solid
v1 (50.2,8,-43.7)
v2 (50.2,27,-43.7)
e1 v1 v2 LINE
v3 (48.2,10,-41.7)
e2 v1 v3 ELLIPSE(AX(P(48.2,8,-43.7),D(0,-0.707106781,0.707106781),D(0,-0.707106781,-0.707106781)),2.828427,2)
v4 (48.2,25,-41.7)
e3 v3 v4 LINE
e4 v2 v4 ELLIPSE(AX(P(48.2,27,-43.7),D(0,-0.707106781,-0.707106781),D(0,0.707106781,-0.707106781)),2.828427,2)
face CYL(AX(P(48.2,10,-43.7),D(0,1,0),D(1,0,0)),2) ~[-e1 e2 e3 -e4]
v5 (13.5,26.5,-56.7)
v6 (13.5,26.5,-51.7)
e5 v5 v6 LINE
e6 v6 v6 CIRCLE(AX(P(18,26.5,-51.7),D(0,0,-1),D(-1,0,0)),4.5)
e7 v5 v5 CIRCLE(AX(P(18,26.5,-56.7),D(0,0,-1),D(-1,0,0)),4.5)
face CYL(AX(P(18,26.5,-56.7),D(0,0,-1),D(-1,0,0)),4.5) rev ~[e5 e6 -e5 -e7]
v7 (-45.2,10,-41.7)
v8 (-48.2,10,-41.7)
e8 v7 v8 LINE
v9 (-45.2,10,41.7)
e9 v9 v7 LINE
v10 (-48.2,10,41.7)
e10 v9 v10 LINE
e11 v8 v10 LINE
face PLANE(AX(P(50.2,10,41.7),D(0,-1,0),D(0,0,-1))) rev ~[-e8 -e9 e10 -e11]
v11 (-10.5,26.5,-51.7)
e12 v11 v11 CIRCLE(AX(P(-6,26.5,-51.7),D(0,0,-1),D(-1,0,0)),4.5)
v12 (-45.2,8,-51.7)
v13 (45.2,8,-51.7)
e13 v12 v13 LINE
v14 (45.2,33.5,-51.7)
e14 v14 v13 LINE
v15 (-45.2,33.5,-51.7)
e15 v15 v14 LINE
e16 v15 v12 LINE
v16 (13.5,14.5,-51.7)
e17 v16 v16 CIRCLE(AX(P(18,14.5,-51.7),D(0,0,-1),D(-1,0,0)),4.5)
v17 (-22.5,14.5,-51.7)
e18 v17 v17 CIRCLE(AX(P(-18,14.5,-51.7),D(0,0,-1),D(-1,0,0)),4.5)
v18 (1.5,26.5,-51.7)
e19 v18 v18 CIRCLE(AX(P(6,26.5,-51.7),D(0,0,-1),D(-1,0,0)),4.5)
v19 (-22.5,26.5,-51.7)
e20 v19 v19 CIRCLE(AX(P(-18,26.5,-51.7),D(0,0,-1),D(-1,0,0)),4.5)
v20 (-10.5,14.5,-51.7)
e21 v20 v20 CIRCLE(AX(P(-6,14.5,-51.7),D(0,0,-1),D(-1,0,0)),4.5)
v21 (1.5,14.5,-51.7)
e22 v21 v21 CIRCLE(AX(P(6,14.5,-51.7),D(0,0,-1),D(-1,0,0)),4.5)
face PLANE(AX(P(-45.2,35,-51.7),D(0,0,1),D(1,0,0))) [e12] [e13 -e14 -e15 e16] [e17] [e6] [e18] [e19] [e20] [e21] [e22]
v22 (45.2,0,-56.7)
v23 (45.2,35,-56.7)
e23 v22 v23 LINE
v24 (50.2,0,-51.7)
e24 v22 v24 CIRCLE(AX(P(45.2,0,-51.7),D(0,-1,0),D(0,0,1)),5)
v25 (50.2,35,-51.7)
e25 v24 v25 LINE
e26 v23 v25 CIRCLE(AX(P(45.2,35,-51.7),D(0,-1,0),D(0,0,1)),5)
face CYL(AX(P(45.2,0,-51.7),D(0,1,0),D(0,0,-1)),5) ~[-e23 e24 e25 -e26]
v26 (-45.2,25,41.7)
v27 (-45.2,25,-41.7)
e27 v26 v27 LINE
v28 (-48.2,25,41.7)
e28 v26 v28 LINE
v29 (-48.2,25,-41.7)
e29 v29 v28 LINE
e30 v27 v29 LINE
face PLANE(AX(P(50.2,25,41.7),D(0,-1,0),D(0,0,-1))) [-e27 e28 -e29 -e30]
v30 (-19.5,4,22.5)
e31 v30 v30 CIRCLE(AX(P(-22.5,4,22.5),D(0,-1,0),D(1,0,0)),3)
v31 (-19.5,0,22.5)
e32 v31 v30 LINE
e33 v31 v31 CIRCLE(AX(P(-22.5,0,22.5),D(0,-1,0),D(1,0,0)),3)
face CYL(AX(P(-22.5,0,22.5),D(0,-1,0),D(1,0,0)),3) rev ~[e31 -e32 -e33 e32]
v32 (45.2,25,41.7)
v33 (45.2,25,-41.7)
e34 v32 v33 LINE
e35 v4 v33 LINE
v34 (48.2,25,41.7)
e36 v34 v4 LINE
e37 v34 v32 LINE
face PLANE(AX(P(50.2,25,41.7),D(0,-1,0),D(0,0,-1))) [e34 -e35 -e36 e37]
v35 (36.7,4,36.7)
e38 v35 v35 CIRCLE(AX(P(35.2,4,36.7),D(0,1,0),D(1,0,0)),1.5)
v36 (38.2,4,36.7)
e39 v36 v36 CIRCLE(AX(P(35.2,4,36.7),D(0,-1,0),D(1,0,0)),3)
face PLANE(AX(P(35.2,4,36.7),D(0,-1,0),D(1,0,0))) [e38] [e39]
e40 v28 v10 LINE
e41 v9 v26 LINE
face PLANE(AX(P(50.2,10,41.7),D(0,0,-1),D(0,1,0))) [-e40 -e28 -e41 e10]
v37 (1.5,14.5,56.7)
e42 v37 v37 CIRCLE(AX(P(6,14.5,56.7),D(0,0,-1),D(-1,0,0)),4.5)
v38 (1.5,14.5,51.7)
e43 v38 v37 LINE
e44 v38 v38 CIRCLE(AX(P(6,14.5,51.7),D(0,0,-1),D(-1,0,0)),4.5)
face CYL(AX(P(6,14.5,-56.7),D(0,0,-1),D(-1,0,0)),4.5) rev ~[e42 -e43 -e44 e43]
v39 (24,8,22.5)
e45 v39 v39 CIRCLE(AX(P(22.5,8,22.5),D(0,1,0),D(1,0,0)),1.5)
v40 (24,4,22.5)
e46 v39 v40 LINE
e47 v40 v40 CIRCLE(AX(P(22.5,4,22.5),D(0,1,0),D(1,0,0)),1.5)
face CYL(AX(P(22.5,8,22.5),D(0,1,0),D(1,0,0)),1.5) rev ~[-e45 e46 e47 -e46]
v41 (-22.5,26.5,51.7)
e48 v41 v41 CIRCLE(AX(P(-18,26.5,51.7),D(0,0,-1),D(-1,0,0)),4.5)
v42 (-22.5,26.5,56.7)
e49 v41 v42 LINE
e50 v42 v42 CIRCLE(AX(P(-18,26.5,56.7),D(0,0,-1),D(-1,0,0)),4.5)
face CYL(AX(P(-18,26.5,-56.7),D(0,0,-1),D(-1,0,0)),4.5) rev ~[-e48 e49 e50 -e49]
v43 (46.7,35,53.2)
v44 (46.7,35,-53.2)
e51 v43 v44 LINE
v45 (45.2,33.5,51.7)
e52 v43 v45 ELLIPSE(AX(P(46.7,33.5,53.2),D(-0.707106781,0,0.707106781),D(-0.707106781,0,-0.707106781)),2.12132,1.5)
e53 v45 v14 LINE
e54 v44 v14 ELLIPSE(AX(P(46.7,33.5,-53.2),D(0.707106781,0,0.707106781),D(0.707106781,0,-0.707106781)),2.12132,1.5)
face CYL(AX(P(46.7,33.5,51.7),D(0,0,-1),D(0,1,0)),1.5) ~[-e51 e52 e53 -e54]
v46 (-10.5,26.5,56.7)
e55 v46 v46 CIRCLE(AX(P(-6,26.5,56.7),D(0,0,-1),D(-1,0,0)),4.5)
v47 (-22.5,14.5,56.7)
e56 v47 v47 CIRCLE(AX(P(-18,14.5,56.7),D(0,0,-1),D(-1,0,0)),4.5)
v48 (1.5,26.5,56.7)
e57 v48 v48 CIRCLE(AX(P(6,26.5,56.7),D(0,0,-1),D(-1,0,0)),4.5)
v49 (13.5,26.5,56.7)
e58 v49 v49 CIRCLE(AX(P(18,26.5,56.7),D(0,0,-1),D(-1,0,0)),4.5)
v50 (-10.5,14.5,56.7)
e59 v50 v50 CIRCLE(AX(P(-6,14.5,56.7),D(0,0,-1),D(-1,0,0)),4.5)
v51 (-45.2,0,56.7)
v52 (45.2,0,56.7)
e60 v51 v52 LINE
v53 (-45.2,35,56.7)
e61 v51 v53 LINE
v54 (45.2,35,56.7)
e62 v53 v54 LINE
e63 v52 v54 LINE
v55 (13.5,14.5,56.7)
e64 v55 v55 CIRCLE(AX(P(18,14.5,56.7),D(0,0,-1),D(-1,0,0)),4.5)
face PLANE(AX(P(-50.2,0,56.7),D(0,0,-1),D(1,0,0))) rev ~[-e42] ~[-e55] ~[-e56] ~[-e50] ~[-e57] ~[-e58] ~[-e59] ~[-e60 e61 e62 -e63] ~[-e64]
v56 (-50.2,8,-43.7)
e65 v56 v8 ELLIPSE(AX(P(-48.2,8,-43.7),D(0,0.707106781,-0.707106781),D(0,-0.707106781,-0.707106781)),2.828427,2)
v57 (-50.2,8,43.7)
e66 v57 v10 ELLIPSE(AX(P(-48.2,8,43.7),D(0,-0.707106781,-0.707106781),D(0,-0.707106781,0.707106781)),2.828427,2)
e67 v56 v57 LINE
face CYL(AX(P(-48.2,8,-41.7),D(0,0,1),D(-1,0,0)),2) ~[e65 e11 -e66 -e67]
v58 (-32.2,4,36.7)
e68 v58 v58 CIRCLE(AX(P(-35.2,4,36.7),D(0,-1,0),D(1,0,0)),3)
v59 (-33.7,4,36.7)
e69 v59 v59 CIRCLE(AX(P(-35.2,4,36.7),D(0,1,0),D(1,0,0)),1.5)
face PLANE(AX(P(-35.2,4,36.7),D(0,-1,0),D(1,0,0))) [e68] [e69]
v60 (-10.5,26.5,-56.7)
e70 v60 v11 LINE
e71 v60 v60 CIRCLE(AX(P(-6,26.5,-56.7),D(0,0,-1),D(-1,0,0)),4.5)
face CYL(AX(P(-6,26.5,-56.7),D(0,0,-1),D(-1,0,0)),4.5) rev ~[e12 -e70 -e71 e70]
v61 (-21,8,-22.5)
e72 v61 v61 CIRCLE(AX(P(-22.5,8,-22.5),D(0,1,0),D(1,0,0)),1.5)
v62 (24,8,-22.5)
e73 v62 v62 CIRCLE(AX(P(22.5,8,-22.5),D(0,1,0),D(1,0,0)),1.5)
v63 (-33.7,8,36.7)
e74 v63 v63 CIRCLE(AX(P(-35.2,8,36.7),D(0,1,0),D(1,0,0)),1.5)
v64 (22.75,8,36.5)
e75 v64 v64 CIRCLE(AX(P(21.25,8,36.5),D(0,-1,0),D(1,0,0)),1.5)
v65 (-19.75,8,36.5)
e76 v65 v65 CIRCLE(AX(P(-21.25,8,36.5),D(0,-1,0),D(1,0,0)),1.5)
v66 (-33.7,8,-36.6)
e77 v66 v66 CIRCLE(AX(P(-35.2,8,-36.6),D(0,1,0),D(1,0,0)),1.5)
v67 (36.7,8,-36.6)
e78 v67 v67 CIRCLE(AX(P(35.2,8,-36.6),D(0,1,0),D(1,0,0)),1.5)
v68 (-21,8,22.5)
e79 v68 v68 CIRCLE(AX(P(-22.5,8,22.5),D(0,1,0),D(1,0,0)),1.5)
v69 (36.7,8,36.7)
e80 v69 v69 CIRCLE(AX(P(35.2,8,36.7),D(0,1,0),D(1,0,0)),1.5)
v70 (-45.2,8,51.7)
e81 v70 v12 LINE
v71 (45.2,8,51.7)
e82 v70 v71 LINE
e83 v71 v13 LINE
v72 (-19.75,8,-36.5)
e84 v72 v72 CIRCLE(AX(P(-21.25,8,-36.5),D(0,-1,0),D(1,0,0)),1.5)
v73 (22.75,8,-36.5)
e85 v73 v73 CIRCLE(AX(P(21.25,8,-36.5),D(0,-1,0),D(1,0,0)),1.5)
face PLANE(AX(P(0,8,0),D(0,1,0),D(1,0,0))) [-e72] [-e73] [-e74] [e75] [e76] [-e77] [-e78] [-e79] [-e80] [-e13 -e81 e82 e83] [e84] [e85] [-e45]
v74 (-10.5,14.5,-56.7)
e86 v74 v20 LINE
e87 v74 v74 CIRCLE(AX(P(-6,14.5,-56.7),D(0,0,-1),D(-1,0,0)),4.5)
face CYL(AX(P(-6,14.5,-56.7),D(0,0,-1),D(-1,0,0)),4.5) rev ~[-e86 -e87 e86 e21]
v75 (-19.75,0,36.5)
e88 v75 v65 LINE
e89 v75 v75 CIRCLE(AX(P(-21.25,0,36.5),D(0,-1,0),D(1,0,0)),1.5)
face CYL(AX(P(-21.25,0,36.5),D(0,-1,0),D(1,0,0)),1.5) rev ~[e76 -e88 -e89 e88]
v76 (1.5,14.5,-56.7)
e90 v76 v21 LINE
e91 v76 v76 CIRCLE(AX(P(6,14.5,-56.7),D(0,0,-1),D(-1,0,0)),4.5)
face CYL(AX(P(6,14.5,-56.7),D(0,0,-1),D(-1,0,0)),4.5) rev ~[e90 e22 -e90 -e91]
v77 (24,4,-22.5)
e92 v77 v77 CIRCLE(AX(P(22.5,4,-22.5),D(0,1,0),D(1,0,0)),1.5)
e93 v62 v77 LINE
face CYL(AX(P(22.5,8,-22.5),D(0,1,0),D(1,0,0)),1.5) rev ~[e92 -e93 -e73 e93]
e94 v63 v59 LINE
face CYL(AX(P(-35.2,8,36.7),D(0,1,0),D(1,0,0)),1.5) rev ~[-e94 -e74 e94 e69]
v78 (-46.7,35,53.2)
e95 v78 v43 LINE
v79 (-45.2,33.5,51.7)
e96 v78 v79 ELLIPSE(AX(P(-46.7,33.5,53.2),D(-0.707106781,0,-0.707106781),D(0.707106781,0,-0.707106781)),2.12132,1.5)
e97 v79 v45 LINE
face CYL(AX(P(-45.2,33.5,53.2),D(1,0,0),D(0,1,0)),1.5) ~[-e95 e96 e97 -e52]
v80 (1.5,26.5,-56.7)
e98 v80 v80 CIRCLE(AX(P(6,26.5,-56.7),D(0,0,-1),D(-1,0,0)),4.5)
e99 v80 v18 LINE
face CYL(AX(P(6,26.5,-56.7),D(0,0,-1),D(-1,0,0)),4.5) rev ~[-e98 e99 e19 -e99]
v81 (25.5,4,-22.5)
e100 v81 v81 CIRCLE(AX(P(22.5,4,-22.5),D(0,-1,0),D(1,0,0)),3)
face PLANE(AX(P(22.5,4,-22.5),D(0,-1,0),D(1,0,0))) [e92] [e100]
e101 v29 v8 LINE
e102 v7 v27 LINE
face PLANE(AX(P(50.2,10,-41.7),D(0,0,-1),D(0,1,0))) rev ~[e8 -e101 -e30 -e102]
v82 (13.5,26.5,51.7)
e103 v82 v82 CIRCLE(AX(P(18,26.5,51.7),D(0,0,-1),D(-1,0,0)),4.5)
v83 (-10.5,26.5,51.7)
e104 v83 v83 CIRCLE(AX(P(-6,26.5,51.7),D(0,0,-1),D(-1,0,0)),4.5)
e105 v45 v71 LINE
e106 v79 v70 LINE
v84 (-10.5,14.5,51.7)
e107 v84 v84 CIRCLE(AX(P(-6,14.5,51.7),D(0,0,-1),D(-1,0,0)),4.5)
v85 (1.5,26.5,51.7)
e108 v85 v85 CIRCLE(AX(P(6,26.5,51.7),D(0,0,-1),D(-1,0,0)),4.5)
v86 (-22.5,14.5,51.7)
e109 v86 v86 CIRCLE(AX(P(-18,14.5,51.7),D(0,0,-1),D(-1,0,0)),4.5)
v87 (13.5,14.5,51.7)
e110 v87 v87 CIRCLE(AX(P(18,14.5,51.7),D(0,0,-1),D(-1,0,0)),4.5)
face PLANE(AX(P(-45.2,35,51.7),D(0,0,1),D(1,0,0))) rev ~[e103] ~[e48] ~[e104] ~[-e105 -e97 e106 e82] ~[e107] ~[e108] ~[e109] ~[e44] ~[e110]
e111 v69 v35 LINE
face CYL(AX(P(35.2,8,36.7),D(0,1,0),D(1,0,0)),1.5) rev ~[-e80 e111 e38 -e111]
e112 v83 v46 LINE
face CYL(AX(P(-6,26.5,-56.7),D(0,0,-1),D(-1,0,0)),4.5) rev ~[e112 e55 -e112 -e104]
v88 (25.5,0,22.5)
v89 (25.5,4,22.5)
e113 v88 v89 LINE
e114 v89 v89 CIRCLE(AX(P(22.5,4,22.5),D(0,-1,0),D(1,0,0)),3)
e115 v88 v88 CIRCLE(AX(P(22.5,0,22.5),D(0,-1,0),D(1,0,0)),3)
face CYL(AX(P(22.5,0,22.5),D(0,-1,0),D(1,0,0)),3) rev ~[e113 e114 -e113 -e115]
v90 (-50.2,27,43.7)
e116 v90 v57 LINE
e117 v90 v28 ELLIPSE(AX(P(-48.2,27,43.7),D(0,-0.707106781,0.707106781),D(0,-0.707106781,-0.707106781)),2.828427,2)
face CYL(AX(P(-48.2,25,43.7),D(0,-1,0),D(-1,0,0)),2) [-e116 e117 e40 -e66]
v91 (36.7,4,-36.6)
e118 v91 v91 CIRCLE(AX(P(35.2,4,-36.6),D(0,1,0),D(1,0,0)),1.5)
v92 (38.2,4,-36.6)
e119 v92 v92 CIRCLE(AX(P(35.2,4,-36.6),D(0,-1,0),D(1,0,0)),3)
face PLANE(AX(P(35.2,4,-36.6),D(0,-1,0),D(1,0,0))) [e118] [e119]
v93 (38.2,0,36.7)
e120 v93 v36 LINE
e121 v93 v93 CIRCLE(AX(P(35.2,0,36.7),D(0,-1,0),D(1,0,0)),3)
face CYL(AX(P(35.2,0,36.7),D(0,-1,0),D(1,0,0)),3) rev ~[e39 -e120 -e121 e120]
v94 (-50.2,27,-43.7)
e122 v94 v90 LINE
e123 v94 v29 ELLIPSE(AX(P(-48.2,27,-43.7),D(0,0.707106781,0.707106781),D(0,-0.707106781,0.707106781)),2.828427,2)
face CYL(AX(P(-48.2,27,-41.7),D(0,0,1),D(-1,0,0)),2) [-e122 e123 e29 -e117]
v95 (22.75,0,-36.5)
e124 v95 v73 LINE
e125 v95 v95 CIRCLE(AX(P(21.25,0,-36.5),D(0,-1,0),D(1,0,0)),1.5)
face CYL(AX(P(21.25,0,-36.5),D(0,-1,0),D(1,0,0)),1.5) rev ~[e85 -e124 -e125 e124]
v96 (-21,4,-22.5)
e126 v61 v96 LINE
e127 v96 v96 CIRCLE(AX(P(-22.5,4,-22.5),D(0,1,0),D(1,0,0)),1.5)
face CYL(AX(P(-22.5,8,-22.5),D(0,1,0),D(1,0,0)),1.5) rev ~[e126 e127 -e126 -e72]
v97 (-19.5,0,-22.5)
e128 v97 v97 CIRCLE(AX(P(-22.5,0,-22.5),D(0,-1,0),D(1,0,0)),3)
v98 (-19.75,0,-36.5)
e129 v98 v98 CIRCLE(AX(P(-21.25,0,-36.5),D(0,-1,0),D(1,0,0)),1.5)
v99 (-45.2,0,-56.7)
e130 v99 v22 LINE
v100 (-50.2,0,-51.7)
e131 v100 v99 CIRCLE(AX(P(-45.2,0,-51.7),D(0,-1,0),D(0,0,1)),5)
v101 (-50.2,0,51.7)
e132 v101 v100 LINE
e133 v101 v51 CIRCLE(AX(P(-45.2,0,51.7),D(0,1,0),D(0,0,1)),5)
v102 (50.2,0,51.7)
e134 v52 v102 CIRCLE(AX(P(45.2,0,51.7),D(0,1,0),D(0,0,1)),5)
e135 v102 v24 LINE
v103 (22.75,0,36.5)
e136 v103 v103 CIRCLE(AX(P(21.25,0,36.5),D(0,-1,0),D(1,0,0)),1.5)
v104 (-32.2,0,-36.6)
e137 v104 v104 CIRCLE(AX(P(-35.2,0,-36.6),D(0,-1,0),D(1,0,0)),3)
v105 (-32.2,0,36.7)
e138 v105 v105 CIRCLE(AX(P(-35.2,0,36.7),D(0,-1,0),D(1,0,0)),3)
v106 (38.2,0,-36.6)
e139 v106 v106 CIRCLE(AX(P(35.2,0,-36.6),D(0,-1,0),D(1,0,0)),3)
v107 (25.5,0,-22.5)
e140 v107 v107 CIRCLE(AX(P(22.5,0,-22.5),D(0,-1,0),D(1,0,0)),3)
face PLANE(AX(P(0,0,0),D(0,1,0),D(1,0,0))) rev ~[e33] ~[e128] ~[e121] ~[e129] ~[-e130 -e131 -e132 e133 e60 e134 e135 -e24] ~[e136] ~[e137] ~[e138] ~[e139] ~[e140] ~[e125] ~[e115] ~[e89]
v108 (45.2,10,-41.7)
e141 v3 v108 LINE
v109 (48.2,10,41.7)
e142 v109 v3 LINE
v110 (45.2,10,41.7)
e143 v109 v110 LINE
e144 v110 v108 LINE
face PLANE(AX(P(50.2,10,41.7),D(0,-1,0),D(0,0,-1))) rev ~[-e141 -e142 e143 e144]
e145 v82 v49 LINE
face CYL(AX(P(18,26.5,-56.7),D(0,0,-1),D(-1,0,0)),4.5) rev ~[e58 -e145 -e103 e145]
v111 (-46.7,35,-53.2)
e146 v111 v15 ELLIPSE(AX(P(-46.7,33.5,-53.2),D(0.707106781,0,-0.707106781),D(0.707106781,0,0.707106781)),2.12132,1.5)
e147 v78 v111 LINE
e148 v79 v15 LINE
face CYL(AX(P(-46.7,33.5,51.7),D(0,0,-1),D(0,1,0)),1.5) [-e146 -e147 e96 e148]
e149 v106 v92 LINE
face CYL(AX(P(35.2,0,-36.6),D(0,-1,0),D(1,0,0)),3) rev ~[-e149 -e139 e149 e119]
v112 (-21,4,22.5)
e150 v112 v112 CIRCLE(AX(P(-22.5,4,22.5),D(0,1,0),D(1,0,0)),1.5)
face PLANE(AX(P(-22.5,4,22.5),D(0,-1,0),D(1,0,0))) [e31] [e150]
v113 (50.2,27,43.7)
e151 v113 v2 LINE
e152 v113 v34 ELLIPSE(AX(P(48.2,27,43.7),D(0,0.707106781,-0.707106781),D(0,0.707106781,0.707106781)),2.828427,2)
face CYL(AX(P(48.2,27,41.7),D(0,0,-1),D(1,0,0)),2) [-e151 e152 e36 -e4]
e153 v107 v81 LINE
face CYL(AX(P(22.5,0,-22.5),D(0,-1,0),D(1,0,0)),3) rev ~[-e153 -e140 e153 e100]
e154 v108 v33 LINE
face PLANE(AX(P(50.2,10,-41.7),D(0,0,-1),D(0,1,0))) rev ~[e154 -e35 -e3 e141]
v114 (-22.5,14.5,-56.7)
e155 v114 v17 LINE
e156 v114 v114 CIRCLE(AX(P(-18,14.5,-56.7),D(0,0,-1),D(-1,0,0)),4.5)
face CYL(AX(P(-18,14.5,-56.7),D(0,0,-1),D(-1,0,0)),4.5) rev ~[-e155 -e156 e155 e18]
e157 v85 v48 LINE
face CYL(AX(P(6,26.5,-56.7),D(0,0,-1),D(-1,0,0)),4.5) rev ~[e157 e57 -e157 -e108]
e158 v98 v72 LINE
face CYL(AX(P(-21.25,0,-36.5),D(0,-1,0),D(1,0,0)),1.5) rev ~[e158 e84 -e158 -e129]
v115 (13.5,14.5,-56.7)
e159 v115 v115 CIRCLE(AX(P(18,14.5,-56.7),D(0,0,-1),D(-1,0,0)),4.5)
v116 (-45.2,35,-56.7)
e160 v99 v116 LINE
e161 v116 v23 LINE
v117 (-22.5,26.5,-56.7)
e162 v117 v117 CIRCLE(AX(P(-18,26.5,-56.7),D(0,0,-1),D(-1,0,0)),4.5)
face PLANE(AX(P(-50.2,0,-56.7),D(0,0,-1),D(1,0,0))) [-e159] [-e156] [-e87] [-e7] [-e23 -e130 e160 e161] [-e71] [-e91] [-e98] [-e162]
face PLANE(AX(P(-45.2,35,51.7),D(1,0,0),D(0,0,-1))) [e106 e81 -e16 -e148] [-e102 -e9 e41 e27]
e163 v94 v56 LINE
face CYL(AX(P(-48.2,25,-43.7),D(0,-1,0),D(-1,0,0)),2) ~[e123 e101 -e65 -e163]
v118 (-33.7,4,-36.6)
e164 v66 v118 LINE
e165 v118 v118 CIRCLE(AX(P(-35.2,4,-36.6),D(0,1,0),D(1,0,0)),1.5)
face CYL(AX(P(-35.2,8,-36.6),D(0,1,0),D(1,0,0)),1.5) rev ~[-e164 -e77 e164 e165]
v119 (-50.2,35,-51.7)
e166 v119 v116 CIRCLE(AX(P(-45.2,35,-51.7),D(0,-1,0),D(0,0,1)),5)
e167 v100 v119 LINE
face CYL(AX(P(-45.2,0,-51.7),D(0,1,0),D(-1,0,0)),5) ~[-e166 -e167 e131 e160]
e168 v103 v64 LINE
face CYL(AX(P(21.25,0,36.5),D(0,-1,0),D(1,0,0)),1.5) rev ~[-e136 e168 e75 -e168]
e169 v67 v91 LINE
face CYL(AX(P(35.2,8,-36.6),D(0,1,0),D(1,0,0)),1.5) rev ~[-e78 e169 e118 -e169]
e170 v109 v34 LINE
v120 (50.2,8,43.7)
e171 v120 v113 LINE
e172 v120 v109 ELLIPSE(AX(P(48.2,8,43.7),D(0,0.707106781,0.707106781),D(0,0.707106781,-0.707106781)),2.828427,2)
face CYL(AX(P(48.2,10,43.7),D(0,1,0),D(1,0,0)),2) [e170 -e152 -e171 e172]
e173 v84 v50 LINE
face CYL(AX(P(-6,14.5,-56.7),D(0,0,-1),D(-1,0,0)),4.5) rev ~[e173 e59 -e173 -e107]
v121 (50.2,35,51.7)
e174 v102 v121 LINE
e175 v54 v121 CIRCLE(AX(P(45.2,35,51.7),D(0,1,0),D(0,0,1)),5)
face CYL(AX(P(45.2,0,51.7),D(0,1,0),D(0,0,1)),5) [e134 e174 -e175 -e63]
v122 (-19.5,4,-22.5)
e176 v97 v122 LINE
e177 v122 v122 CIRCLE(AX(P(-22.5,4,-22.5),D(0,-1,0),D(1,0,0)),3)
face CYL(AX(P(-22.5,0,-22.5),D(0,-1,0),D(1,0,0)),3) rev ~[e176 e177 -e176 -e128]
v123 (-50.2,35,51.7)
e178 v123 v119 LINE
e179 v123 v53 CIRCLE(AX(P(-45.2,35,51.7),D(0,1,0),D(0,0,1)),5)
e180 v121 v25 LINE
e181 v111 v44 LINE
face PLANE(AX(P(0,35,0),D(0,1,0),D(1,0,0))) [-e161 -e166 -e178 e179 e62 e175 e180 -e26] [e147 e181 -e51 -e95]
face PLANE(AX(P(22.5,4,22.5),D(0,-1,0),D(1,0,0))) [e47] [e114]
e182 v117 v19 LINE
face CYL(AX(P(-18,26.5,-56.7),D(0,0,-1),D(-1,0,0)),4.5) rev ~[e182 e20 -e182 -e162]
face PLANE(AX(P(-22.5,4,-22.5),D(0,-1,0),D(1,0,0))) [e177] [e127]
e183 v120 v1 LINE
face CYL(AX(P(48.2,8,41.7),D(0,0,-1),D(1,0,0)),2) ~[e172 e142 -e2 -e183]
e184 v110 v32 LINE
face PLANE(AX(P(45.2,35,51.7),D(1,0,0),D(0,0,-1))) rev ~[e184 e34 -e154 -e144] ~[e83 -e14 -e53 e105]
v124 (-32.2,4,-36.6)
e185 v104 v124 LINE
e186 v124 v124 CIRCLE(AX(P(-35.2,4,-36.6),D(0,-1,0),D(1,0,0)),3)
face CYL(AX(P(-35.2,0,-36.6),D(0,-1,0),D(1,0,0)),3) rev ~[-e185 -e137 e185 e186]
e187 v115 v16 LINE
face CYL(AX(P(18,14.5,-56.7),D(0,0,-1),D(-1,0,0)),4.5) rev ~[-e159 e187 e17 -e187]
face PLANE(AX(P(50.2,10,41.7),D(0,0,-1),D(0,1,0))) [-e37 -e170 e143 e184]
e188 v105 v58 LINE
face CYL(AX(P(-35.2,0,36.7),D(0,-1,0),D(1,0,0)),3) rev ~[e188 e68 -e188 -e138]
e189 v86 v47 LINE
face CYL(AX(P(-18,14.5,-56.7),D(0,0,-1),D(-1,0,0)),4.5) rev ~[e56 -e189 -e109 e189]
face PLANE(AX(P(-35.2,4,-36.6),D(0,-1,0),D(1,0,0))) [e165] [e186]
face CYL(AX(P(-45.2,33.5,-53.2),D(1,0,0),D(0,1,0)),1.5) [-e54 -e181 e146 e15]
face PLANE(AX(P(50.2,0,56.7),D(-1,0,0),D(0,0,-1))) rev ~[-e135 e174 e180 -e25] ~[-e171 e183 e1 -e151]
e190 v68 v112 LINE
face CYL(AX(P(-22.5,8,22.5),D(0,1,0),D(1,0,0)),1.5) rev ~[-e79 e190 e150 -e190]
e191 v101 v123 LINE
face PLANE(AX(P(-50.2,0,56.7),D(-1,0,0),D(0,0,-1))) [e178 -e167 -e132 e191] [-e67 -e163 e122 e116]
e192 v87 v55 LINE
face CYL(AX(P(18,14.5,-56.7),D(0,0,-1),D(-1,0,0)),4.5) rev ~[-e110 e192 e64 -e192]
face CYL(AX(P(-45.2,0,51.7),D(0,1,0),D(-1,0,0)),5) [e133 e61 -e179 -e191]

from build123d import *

# Parameters (mm, degrees)
SKETCH1_W            = 100.4
SKETCH1_H            = 113.4
BOSS_EXTRUDE2_DEPTH  = 35
SKETCH2_W            = 90.4
SKETCH2_H            = 103.4
CUT_EXTRUDE1_DEPTH   = 27
FILLET4_R            = 5
SKETCH4_W            = 83.4
SKETCH4_H            = 15
CUT_EXTRUDE3_DEPTH   = 123
FILLET5_R            = 2
FILLET6_R            = 2
SKETCH3_R            = 4.5
CUT_EXTRUDE4_DEPTH   = 123
SKETCH5_R            = 1.5
CUT_EXTRUDE5_DEPTH   = 37
SKETCH6_R            = 3
CUT_EXTRUDE6_DEPTH   = 4
SKETCH7_R            = 1.5
CUT_EXTRUDE7_DEPTH   = 17
SKETCH8_R            = 1.5
CUT_EXTRUDE8_DEPTH   = 9
SKETCH9_R            = 3
CUT_EXTRUDE9_DEPTH   = 4
LPATTERN2_COUNT      = 4
LPATTERN2_PITCH      = 12
LPATTERN2_COUNT_DIR2 = 2
LPATTERN2_PITCH_DIR2 = 12
FILLET7_R            = 1.5


with BuildPart() as part:
    # Sketch1 → Boss-Extrude2 (new body)
    with BuildSketch(Plane(origin=(0, 0, 0), x_dir=(1, 0, 0), z_dir=(0, 1, 0))):
        Rectangle(SKETCH1_W, SKETCH1_H)
    extrude(amount=BOSS_EXTRUDE2_DEPTH)

    # Sketch2 → Cut-Extrude1 (cut)
    with BuildSketch(Plane(origin=(0, 35, 0), x_dir=(1, 0, 0), z_dir=(0, 1, 0))):
        Rectangle(SKETCH2_W, SKETCH2_H)
    extrude(amount=-CUT_EXTRUDE1_DEPTH, mode=Mode.SUBTRACT)

    # Fillet4
    fillet4_edges = [part.edges().sort_by_distance(p)[0] for p in [
        (-50.2, 17.5, 56.7),
        (50.2, 17.5, 56.7),
        (50.2, 17.5, -56.7),
        (-50.2, 17.5, -56.7),
    ]]
    fillet(fillet4_edges, radius=FILLET4_R)

    # Sketch4 → Cut-Extrude3 (cut)
    with BuildSketch(Plane(origin=(50.2, 0, 0), x_dir=(0, 0, -1), z_dir=(1, 0, 0))):
        with Locations((0, 17.5)):
            Rectangle(SKETCH4_W, SKETCH4_H)
    extrude(amount=-CUT_EXTRUDE3_DEPTH, mode=Mode.SUBTRACT)

    # Fillet5
    fillet5_edges = [part.edges().sort_by_distance(p)[0] for p in [
        (50.2, 17.5, 41.7),
        (50.2, 10, 0),
        (50.2, 17.5, -41.7),
        (50.2, 25, 0),
    ]]
    fillet(fillet5_edges, radius=FILLET5_R)

    # Fillet6
    fillet6_edges = [part.edges().sort_by_distance(p)[0] for p in [
        (-50.2, 17.5, 41.7),
        (-50.2, 25, 0),
        (-50.2, 17.5, -41.7),
        (-50.2, 10, 0),
    ]]
    fillet(fillet6_edges, radius=FILLET6_R)

    # Sketch3 → Cut-Extrude4 (cut)
    with BuildSketch(Plane(origin=(0, 0, -56.7), x_dir=(-1, 0, 0), z_dir=(0, 0, -1))):
        with Locations((-18, 14.5)):
            Circle(SKETCH3_R)
    cut_extrude4 = extrude(amount=-CUT_EXTRUDE4_DEPTH, mode=Mode.SUBTRACT)

    # Sketch5 → Cut-Extrude5 (cut)
    with BuildSketch(Plane(origin=(0, 8, 0), x_dir=(1, 0, 0), z_dir=(0, 1, 0))):
        with Locations((-22.5, 22.5)):
            Circle(SKETCH5_R)
        with Locations((22.5, 22.5)):
            Circle(SKETCH5_R)
        with Locations((-22.5, -22.5)):
            Circle(SKETCH5_R)
        with Locations((22.5, -22.5)):
            Circle(SKETCH5_R)
    extrude(amount=-CUT_EXTRUDE5_DEPTH, mode=Mode.SUBTRACT)

    # Sketch6 → Cut-Extrude6 (cut)
    with BuildSketch(Plane.XZ):
        with Locations((-22.5, 22.5)):
            Circle(SKETCH6_R)
        with Locations((-22.5, -22.5)):
            Circle(SKETCH6_R)
        with Locations((22.5, 22.5)):
            Circle(SKETCH6_R)
        with Locations((22.5, -22.5)):
            Circle(SKETCH6_R)
    extrude(amount=-CUT_EXTRUDE6_DEPTH, mode=Mode.SUBTRACT)

    # Sketch7 → Cut-Extrude7 (cut)
    with BuildSketch(Plane.XZ):
        with Locations((-21.25, 36.5)):
            Circle(SKETCH7_R)
        with Locations((-21.25, -36.5)):
            Circle(SKETCH7_R)
        with Locations((21.25, -36.5)):
            Circle(SKETCH7_R)
        with Locations((21.25, 36.5)):
            Circle(SKETCH7_R)
    extrude(amount=-CUT_EXTRUDE7_DEPTH, mode=Mode.SUBTRACT)

    # Sketch8 → Cut-Extrude8 (cut)
    with BuildSketch(Plane(origin=(0, 8, 0), x_dir=(1, 0, 0), z_dir=(0, 1, 0))):
        with Locations((-35.2, 36.6)):
            Circle(SKETCH8_R)
        with Locations((35.2, 36.6)):
            Circle(SKETCH8_R)
        with Locations((-35.2, -36.7)):
            Circle(SKETCH8_R)
        with Locations((35.2, -36.7)):
            Circle(SKETCH8_R)
    extrude(amount=-CUT_EXTRUDE8_DEPTH, mode=Mode.SUBTRACT)

    # Sketch9 → Cut-Extrude9 (cut)
    with BuildSketch(Plane.XZ):
        with Locations((-35.2, 36.7)):
            Circle(SKETCH9_R)
        with Locations((35.2, 36.7)):
            Circle(SKETCH9_R)
        with Locations((-35.2, -36.6)):
            Circle(SKETCH9_R)
        with Locations((35.2, -36.6)):
            Circle(SKETCH9_R)
    extrude(amount=-CUT_EXTRUDE9_DEPTH, mode=Mode.SUBTRACT)

    # LPattern2: Cut-Extrude4 4 × 2
    with Locations(*[(-i * LPATTERN2_PITCH, j * LPATTERN2_PITCH_DIR2, 0) for i in range(LPATTERN2_COUNT) for j in range(LPATTERN2_COUNT_DIR2) if (i, j) != (0, 0)]):
        add(cut_extrude4, mode=Mode.SUBTRACT)

    # Fillet7
    fillet7_edges = [part.edges().sort_by_distance(p)[0] for p in [
        (45.2, 35, 0),
        (0, 35, -51.7),
        (-45.2, 35, 0),
        (0, 35, 51.7),
    ]]
    fillet(fillet7_edges, radius=FILLET7_R)


solid = part.part
